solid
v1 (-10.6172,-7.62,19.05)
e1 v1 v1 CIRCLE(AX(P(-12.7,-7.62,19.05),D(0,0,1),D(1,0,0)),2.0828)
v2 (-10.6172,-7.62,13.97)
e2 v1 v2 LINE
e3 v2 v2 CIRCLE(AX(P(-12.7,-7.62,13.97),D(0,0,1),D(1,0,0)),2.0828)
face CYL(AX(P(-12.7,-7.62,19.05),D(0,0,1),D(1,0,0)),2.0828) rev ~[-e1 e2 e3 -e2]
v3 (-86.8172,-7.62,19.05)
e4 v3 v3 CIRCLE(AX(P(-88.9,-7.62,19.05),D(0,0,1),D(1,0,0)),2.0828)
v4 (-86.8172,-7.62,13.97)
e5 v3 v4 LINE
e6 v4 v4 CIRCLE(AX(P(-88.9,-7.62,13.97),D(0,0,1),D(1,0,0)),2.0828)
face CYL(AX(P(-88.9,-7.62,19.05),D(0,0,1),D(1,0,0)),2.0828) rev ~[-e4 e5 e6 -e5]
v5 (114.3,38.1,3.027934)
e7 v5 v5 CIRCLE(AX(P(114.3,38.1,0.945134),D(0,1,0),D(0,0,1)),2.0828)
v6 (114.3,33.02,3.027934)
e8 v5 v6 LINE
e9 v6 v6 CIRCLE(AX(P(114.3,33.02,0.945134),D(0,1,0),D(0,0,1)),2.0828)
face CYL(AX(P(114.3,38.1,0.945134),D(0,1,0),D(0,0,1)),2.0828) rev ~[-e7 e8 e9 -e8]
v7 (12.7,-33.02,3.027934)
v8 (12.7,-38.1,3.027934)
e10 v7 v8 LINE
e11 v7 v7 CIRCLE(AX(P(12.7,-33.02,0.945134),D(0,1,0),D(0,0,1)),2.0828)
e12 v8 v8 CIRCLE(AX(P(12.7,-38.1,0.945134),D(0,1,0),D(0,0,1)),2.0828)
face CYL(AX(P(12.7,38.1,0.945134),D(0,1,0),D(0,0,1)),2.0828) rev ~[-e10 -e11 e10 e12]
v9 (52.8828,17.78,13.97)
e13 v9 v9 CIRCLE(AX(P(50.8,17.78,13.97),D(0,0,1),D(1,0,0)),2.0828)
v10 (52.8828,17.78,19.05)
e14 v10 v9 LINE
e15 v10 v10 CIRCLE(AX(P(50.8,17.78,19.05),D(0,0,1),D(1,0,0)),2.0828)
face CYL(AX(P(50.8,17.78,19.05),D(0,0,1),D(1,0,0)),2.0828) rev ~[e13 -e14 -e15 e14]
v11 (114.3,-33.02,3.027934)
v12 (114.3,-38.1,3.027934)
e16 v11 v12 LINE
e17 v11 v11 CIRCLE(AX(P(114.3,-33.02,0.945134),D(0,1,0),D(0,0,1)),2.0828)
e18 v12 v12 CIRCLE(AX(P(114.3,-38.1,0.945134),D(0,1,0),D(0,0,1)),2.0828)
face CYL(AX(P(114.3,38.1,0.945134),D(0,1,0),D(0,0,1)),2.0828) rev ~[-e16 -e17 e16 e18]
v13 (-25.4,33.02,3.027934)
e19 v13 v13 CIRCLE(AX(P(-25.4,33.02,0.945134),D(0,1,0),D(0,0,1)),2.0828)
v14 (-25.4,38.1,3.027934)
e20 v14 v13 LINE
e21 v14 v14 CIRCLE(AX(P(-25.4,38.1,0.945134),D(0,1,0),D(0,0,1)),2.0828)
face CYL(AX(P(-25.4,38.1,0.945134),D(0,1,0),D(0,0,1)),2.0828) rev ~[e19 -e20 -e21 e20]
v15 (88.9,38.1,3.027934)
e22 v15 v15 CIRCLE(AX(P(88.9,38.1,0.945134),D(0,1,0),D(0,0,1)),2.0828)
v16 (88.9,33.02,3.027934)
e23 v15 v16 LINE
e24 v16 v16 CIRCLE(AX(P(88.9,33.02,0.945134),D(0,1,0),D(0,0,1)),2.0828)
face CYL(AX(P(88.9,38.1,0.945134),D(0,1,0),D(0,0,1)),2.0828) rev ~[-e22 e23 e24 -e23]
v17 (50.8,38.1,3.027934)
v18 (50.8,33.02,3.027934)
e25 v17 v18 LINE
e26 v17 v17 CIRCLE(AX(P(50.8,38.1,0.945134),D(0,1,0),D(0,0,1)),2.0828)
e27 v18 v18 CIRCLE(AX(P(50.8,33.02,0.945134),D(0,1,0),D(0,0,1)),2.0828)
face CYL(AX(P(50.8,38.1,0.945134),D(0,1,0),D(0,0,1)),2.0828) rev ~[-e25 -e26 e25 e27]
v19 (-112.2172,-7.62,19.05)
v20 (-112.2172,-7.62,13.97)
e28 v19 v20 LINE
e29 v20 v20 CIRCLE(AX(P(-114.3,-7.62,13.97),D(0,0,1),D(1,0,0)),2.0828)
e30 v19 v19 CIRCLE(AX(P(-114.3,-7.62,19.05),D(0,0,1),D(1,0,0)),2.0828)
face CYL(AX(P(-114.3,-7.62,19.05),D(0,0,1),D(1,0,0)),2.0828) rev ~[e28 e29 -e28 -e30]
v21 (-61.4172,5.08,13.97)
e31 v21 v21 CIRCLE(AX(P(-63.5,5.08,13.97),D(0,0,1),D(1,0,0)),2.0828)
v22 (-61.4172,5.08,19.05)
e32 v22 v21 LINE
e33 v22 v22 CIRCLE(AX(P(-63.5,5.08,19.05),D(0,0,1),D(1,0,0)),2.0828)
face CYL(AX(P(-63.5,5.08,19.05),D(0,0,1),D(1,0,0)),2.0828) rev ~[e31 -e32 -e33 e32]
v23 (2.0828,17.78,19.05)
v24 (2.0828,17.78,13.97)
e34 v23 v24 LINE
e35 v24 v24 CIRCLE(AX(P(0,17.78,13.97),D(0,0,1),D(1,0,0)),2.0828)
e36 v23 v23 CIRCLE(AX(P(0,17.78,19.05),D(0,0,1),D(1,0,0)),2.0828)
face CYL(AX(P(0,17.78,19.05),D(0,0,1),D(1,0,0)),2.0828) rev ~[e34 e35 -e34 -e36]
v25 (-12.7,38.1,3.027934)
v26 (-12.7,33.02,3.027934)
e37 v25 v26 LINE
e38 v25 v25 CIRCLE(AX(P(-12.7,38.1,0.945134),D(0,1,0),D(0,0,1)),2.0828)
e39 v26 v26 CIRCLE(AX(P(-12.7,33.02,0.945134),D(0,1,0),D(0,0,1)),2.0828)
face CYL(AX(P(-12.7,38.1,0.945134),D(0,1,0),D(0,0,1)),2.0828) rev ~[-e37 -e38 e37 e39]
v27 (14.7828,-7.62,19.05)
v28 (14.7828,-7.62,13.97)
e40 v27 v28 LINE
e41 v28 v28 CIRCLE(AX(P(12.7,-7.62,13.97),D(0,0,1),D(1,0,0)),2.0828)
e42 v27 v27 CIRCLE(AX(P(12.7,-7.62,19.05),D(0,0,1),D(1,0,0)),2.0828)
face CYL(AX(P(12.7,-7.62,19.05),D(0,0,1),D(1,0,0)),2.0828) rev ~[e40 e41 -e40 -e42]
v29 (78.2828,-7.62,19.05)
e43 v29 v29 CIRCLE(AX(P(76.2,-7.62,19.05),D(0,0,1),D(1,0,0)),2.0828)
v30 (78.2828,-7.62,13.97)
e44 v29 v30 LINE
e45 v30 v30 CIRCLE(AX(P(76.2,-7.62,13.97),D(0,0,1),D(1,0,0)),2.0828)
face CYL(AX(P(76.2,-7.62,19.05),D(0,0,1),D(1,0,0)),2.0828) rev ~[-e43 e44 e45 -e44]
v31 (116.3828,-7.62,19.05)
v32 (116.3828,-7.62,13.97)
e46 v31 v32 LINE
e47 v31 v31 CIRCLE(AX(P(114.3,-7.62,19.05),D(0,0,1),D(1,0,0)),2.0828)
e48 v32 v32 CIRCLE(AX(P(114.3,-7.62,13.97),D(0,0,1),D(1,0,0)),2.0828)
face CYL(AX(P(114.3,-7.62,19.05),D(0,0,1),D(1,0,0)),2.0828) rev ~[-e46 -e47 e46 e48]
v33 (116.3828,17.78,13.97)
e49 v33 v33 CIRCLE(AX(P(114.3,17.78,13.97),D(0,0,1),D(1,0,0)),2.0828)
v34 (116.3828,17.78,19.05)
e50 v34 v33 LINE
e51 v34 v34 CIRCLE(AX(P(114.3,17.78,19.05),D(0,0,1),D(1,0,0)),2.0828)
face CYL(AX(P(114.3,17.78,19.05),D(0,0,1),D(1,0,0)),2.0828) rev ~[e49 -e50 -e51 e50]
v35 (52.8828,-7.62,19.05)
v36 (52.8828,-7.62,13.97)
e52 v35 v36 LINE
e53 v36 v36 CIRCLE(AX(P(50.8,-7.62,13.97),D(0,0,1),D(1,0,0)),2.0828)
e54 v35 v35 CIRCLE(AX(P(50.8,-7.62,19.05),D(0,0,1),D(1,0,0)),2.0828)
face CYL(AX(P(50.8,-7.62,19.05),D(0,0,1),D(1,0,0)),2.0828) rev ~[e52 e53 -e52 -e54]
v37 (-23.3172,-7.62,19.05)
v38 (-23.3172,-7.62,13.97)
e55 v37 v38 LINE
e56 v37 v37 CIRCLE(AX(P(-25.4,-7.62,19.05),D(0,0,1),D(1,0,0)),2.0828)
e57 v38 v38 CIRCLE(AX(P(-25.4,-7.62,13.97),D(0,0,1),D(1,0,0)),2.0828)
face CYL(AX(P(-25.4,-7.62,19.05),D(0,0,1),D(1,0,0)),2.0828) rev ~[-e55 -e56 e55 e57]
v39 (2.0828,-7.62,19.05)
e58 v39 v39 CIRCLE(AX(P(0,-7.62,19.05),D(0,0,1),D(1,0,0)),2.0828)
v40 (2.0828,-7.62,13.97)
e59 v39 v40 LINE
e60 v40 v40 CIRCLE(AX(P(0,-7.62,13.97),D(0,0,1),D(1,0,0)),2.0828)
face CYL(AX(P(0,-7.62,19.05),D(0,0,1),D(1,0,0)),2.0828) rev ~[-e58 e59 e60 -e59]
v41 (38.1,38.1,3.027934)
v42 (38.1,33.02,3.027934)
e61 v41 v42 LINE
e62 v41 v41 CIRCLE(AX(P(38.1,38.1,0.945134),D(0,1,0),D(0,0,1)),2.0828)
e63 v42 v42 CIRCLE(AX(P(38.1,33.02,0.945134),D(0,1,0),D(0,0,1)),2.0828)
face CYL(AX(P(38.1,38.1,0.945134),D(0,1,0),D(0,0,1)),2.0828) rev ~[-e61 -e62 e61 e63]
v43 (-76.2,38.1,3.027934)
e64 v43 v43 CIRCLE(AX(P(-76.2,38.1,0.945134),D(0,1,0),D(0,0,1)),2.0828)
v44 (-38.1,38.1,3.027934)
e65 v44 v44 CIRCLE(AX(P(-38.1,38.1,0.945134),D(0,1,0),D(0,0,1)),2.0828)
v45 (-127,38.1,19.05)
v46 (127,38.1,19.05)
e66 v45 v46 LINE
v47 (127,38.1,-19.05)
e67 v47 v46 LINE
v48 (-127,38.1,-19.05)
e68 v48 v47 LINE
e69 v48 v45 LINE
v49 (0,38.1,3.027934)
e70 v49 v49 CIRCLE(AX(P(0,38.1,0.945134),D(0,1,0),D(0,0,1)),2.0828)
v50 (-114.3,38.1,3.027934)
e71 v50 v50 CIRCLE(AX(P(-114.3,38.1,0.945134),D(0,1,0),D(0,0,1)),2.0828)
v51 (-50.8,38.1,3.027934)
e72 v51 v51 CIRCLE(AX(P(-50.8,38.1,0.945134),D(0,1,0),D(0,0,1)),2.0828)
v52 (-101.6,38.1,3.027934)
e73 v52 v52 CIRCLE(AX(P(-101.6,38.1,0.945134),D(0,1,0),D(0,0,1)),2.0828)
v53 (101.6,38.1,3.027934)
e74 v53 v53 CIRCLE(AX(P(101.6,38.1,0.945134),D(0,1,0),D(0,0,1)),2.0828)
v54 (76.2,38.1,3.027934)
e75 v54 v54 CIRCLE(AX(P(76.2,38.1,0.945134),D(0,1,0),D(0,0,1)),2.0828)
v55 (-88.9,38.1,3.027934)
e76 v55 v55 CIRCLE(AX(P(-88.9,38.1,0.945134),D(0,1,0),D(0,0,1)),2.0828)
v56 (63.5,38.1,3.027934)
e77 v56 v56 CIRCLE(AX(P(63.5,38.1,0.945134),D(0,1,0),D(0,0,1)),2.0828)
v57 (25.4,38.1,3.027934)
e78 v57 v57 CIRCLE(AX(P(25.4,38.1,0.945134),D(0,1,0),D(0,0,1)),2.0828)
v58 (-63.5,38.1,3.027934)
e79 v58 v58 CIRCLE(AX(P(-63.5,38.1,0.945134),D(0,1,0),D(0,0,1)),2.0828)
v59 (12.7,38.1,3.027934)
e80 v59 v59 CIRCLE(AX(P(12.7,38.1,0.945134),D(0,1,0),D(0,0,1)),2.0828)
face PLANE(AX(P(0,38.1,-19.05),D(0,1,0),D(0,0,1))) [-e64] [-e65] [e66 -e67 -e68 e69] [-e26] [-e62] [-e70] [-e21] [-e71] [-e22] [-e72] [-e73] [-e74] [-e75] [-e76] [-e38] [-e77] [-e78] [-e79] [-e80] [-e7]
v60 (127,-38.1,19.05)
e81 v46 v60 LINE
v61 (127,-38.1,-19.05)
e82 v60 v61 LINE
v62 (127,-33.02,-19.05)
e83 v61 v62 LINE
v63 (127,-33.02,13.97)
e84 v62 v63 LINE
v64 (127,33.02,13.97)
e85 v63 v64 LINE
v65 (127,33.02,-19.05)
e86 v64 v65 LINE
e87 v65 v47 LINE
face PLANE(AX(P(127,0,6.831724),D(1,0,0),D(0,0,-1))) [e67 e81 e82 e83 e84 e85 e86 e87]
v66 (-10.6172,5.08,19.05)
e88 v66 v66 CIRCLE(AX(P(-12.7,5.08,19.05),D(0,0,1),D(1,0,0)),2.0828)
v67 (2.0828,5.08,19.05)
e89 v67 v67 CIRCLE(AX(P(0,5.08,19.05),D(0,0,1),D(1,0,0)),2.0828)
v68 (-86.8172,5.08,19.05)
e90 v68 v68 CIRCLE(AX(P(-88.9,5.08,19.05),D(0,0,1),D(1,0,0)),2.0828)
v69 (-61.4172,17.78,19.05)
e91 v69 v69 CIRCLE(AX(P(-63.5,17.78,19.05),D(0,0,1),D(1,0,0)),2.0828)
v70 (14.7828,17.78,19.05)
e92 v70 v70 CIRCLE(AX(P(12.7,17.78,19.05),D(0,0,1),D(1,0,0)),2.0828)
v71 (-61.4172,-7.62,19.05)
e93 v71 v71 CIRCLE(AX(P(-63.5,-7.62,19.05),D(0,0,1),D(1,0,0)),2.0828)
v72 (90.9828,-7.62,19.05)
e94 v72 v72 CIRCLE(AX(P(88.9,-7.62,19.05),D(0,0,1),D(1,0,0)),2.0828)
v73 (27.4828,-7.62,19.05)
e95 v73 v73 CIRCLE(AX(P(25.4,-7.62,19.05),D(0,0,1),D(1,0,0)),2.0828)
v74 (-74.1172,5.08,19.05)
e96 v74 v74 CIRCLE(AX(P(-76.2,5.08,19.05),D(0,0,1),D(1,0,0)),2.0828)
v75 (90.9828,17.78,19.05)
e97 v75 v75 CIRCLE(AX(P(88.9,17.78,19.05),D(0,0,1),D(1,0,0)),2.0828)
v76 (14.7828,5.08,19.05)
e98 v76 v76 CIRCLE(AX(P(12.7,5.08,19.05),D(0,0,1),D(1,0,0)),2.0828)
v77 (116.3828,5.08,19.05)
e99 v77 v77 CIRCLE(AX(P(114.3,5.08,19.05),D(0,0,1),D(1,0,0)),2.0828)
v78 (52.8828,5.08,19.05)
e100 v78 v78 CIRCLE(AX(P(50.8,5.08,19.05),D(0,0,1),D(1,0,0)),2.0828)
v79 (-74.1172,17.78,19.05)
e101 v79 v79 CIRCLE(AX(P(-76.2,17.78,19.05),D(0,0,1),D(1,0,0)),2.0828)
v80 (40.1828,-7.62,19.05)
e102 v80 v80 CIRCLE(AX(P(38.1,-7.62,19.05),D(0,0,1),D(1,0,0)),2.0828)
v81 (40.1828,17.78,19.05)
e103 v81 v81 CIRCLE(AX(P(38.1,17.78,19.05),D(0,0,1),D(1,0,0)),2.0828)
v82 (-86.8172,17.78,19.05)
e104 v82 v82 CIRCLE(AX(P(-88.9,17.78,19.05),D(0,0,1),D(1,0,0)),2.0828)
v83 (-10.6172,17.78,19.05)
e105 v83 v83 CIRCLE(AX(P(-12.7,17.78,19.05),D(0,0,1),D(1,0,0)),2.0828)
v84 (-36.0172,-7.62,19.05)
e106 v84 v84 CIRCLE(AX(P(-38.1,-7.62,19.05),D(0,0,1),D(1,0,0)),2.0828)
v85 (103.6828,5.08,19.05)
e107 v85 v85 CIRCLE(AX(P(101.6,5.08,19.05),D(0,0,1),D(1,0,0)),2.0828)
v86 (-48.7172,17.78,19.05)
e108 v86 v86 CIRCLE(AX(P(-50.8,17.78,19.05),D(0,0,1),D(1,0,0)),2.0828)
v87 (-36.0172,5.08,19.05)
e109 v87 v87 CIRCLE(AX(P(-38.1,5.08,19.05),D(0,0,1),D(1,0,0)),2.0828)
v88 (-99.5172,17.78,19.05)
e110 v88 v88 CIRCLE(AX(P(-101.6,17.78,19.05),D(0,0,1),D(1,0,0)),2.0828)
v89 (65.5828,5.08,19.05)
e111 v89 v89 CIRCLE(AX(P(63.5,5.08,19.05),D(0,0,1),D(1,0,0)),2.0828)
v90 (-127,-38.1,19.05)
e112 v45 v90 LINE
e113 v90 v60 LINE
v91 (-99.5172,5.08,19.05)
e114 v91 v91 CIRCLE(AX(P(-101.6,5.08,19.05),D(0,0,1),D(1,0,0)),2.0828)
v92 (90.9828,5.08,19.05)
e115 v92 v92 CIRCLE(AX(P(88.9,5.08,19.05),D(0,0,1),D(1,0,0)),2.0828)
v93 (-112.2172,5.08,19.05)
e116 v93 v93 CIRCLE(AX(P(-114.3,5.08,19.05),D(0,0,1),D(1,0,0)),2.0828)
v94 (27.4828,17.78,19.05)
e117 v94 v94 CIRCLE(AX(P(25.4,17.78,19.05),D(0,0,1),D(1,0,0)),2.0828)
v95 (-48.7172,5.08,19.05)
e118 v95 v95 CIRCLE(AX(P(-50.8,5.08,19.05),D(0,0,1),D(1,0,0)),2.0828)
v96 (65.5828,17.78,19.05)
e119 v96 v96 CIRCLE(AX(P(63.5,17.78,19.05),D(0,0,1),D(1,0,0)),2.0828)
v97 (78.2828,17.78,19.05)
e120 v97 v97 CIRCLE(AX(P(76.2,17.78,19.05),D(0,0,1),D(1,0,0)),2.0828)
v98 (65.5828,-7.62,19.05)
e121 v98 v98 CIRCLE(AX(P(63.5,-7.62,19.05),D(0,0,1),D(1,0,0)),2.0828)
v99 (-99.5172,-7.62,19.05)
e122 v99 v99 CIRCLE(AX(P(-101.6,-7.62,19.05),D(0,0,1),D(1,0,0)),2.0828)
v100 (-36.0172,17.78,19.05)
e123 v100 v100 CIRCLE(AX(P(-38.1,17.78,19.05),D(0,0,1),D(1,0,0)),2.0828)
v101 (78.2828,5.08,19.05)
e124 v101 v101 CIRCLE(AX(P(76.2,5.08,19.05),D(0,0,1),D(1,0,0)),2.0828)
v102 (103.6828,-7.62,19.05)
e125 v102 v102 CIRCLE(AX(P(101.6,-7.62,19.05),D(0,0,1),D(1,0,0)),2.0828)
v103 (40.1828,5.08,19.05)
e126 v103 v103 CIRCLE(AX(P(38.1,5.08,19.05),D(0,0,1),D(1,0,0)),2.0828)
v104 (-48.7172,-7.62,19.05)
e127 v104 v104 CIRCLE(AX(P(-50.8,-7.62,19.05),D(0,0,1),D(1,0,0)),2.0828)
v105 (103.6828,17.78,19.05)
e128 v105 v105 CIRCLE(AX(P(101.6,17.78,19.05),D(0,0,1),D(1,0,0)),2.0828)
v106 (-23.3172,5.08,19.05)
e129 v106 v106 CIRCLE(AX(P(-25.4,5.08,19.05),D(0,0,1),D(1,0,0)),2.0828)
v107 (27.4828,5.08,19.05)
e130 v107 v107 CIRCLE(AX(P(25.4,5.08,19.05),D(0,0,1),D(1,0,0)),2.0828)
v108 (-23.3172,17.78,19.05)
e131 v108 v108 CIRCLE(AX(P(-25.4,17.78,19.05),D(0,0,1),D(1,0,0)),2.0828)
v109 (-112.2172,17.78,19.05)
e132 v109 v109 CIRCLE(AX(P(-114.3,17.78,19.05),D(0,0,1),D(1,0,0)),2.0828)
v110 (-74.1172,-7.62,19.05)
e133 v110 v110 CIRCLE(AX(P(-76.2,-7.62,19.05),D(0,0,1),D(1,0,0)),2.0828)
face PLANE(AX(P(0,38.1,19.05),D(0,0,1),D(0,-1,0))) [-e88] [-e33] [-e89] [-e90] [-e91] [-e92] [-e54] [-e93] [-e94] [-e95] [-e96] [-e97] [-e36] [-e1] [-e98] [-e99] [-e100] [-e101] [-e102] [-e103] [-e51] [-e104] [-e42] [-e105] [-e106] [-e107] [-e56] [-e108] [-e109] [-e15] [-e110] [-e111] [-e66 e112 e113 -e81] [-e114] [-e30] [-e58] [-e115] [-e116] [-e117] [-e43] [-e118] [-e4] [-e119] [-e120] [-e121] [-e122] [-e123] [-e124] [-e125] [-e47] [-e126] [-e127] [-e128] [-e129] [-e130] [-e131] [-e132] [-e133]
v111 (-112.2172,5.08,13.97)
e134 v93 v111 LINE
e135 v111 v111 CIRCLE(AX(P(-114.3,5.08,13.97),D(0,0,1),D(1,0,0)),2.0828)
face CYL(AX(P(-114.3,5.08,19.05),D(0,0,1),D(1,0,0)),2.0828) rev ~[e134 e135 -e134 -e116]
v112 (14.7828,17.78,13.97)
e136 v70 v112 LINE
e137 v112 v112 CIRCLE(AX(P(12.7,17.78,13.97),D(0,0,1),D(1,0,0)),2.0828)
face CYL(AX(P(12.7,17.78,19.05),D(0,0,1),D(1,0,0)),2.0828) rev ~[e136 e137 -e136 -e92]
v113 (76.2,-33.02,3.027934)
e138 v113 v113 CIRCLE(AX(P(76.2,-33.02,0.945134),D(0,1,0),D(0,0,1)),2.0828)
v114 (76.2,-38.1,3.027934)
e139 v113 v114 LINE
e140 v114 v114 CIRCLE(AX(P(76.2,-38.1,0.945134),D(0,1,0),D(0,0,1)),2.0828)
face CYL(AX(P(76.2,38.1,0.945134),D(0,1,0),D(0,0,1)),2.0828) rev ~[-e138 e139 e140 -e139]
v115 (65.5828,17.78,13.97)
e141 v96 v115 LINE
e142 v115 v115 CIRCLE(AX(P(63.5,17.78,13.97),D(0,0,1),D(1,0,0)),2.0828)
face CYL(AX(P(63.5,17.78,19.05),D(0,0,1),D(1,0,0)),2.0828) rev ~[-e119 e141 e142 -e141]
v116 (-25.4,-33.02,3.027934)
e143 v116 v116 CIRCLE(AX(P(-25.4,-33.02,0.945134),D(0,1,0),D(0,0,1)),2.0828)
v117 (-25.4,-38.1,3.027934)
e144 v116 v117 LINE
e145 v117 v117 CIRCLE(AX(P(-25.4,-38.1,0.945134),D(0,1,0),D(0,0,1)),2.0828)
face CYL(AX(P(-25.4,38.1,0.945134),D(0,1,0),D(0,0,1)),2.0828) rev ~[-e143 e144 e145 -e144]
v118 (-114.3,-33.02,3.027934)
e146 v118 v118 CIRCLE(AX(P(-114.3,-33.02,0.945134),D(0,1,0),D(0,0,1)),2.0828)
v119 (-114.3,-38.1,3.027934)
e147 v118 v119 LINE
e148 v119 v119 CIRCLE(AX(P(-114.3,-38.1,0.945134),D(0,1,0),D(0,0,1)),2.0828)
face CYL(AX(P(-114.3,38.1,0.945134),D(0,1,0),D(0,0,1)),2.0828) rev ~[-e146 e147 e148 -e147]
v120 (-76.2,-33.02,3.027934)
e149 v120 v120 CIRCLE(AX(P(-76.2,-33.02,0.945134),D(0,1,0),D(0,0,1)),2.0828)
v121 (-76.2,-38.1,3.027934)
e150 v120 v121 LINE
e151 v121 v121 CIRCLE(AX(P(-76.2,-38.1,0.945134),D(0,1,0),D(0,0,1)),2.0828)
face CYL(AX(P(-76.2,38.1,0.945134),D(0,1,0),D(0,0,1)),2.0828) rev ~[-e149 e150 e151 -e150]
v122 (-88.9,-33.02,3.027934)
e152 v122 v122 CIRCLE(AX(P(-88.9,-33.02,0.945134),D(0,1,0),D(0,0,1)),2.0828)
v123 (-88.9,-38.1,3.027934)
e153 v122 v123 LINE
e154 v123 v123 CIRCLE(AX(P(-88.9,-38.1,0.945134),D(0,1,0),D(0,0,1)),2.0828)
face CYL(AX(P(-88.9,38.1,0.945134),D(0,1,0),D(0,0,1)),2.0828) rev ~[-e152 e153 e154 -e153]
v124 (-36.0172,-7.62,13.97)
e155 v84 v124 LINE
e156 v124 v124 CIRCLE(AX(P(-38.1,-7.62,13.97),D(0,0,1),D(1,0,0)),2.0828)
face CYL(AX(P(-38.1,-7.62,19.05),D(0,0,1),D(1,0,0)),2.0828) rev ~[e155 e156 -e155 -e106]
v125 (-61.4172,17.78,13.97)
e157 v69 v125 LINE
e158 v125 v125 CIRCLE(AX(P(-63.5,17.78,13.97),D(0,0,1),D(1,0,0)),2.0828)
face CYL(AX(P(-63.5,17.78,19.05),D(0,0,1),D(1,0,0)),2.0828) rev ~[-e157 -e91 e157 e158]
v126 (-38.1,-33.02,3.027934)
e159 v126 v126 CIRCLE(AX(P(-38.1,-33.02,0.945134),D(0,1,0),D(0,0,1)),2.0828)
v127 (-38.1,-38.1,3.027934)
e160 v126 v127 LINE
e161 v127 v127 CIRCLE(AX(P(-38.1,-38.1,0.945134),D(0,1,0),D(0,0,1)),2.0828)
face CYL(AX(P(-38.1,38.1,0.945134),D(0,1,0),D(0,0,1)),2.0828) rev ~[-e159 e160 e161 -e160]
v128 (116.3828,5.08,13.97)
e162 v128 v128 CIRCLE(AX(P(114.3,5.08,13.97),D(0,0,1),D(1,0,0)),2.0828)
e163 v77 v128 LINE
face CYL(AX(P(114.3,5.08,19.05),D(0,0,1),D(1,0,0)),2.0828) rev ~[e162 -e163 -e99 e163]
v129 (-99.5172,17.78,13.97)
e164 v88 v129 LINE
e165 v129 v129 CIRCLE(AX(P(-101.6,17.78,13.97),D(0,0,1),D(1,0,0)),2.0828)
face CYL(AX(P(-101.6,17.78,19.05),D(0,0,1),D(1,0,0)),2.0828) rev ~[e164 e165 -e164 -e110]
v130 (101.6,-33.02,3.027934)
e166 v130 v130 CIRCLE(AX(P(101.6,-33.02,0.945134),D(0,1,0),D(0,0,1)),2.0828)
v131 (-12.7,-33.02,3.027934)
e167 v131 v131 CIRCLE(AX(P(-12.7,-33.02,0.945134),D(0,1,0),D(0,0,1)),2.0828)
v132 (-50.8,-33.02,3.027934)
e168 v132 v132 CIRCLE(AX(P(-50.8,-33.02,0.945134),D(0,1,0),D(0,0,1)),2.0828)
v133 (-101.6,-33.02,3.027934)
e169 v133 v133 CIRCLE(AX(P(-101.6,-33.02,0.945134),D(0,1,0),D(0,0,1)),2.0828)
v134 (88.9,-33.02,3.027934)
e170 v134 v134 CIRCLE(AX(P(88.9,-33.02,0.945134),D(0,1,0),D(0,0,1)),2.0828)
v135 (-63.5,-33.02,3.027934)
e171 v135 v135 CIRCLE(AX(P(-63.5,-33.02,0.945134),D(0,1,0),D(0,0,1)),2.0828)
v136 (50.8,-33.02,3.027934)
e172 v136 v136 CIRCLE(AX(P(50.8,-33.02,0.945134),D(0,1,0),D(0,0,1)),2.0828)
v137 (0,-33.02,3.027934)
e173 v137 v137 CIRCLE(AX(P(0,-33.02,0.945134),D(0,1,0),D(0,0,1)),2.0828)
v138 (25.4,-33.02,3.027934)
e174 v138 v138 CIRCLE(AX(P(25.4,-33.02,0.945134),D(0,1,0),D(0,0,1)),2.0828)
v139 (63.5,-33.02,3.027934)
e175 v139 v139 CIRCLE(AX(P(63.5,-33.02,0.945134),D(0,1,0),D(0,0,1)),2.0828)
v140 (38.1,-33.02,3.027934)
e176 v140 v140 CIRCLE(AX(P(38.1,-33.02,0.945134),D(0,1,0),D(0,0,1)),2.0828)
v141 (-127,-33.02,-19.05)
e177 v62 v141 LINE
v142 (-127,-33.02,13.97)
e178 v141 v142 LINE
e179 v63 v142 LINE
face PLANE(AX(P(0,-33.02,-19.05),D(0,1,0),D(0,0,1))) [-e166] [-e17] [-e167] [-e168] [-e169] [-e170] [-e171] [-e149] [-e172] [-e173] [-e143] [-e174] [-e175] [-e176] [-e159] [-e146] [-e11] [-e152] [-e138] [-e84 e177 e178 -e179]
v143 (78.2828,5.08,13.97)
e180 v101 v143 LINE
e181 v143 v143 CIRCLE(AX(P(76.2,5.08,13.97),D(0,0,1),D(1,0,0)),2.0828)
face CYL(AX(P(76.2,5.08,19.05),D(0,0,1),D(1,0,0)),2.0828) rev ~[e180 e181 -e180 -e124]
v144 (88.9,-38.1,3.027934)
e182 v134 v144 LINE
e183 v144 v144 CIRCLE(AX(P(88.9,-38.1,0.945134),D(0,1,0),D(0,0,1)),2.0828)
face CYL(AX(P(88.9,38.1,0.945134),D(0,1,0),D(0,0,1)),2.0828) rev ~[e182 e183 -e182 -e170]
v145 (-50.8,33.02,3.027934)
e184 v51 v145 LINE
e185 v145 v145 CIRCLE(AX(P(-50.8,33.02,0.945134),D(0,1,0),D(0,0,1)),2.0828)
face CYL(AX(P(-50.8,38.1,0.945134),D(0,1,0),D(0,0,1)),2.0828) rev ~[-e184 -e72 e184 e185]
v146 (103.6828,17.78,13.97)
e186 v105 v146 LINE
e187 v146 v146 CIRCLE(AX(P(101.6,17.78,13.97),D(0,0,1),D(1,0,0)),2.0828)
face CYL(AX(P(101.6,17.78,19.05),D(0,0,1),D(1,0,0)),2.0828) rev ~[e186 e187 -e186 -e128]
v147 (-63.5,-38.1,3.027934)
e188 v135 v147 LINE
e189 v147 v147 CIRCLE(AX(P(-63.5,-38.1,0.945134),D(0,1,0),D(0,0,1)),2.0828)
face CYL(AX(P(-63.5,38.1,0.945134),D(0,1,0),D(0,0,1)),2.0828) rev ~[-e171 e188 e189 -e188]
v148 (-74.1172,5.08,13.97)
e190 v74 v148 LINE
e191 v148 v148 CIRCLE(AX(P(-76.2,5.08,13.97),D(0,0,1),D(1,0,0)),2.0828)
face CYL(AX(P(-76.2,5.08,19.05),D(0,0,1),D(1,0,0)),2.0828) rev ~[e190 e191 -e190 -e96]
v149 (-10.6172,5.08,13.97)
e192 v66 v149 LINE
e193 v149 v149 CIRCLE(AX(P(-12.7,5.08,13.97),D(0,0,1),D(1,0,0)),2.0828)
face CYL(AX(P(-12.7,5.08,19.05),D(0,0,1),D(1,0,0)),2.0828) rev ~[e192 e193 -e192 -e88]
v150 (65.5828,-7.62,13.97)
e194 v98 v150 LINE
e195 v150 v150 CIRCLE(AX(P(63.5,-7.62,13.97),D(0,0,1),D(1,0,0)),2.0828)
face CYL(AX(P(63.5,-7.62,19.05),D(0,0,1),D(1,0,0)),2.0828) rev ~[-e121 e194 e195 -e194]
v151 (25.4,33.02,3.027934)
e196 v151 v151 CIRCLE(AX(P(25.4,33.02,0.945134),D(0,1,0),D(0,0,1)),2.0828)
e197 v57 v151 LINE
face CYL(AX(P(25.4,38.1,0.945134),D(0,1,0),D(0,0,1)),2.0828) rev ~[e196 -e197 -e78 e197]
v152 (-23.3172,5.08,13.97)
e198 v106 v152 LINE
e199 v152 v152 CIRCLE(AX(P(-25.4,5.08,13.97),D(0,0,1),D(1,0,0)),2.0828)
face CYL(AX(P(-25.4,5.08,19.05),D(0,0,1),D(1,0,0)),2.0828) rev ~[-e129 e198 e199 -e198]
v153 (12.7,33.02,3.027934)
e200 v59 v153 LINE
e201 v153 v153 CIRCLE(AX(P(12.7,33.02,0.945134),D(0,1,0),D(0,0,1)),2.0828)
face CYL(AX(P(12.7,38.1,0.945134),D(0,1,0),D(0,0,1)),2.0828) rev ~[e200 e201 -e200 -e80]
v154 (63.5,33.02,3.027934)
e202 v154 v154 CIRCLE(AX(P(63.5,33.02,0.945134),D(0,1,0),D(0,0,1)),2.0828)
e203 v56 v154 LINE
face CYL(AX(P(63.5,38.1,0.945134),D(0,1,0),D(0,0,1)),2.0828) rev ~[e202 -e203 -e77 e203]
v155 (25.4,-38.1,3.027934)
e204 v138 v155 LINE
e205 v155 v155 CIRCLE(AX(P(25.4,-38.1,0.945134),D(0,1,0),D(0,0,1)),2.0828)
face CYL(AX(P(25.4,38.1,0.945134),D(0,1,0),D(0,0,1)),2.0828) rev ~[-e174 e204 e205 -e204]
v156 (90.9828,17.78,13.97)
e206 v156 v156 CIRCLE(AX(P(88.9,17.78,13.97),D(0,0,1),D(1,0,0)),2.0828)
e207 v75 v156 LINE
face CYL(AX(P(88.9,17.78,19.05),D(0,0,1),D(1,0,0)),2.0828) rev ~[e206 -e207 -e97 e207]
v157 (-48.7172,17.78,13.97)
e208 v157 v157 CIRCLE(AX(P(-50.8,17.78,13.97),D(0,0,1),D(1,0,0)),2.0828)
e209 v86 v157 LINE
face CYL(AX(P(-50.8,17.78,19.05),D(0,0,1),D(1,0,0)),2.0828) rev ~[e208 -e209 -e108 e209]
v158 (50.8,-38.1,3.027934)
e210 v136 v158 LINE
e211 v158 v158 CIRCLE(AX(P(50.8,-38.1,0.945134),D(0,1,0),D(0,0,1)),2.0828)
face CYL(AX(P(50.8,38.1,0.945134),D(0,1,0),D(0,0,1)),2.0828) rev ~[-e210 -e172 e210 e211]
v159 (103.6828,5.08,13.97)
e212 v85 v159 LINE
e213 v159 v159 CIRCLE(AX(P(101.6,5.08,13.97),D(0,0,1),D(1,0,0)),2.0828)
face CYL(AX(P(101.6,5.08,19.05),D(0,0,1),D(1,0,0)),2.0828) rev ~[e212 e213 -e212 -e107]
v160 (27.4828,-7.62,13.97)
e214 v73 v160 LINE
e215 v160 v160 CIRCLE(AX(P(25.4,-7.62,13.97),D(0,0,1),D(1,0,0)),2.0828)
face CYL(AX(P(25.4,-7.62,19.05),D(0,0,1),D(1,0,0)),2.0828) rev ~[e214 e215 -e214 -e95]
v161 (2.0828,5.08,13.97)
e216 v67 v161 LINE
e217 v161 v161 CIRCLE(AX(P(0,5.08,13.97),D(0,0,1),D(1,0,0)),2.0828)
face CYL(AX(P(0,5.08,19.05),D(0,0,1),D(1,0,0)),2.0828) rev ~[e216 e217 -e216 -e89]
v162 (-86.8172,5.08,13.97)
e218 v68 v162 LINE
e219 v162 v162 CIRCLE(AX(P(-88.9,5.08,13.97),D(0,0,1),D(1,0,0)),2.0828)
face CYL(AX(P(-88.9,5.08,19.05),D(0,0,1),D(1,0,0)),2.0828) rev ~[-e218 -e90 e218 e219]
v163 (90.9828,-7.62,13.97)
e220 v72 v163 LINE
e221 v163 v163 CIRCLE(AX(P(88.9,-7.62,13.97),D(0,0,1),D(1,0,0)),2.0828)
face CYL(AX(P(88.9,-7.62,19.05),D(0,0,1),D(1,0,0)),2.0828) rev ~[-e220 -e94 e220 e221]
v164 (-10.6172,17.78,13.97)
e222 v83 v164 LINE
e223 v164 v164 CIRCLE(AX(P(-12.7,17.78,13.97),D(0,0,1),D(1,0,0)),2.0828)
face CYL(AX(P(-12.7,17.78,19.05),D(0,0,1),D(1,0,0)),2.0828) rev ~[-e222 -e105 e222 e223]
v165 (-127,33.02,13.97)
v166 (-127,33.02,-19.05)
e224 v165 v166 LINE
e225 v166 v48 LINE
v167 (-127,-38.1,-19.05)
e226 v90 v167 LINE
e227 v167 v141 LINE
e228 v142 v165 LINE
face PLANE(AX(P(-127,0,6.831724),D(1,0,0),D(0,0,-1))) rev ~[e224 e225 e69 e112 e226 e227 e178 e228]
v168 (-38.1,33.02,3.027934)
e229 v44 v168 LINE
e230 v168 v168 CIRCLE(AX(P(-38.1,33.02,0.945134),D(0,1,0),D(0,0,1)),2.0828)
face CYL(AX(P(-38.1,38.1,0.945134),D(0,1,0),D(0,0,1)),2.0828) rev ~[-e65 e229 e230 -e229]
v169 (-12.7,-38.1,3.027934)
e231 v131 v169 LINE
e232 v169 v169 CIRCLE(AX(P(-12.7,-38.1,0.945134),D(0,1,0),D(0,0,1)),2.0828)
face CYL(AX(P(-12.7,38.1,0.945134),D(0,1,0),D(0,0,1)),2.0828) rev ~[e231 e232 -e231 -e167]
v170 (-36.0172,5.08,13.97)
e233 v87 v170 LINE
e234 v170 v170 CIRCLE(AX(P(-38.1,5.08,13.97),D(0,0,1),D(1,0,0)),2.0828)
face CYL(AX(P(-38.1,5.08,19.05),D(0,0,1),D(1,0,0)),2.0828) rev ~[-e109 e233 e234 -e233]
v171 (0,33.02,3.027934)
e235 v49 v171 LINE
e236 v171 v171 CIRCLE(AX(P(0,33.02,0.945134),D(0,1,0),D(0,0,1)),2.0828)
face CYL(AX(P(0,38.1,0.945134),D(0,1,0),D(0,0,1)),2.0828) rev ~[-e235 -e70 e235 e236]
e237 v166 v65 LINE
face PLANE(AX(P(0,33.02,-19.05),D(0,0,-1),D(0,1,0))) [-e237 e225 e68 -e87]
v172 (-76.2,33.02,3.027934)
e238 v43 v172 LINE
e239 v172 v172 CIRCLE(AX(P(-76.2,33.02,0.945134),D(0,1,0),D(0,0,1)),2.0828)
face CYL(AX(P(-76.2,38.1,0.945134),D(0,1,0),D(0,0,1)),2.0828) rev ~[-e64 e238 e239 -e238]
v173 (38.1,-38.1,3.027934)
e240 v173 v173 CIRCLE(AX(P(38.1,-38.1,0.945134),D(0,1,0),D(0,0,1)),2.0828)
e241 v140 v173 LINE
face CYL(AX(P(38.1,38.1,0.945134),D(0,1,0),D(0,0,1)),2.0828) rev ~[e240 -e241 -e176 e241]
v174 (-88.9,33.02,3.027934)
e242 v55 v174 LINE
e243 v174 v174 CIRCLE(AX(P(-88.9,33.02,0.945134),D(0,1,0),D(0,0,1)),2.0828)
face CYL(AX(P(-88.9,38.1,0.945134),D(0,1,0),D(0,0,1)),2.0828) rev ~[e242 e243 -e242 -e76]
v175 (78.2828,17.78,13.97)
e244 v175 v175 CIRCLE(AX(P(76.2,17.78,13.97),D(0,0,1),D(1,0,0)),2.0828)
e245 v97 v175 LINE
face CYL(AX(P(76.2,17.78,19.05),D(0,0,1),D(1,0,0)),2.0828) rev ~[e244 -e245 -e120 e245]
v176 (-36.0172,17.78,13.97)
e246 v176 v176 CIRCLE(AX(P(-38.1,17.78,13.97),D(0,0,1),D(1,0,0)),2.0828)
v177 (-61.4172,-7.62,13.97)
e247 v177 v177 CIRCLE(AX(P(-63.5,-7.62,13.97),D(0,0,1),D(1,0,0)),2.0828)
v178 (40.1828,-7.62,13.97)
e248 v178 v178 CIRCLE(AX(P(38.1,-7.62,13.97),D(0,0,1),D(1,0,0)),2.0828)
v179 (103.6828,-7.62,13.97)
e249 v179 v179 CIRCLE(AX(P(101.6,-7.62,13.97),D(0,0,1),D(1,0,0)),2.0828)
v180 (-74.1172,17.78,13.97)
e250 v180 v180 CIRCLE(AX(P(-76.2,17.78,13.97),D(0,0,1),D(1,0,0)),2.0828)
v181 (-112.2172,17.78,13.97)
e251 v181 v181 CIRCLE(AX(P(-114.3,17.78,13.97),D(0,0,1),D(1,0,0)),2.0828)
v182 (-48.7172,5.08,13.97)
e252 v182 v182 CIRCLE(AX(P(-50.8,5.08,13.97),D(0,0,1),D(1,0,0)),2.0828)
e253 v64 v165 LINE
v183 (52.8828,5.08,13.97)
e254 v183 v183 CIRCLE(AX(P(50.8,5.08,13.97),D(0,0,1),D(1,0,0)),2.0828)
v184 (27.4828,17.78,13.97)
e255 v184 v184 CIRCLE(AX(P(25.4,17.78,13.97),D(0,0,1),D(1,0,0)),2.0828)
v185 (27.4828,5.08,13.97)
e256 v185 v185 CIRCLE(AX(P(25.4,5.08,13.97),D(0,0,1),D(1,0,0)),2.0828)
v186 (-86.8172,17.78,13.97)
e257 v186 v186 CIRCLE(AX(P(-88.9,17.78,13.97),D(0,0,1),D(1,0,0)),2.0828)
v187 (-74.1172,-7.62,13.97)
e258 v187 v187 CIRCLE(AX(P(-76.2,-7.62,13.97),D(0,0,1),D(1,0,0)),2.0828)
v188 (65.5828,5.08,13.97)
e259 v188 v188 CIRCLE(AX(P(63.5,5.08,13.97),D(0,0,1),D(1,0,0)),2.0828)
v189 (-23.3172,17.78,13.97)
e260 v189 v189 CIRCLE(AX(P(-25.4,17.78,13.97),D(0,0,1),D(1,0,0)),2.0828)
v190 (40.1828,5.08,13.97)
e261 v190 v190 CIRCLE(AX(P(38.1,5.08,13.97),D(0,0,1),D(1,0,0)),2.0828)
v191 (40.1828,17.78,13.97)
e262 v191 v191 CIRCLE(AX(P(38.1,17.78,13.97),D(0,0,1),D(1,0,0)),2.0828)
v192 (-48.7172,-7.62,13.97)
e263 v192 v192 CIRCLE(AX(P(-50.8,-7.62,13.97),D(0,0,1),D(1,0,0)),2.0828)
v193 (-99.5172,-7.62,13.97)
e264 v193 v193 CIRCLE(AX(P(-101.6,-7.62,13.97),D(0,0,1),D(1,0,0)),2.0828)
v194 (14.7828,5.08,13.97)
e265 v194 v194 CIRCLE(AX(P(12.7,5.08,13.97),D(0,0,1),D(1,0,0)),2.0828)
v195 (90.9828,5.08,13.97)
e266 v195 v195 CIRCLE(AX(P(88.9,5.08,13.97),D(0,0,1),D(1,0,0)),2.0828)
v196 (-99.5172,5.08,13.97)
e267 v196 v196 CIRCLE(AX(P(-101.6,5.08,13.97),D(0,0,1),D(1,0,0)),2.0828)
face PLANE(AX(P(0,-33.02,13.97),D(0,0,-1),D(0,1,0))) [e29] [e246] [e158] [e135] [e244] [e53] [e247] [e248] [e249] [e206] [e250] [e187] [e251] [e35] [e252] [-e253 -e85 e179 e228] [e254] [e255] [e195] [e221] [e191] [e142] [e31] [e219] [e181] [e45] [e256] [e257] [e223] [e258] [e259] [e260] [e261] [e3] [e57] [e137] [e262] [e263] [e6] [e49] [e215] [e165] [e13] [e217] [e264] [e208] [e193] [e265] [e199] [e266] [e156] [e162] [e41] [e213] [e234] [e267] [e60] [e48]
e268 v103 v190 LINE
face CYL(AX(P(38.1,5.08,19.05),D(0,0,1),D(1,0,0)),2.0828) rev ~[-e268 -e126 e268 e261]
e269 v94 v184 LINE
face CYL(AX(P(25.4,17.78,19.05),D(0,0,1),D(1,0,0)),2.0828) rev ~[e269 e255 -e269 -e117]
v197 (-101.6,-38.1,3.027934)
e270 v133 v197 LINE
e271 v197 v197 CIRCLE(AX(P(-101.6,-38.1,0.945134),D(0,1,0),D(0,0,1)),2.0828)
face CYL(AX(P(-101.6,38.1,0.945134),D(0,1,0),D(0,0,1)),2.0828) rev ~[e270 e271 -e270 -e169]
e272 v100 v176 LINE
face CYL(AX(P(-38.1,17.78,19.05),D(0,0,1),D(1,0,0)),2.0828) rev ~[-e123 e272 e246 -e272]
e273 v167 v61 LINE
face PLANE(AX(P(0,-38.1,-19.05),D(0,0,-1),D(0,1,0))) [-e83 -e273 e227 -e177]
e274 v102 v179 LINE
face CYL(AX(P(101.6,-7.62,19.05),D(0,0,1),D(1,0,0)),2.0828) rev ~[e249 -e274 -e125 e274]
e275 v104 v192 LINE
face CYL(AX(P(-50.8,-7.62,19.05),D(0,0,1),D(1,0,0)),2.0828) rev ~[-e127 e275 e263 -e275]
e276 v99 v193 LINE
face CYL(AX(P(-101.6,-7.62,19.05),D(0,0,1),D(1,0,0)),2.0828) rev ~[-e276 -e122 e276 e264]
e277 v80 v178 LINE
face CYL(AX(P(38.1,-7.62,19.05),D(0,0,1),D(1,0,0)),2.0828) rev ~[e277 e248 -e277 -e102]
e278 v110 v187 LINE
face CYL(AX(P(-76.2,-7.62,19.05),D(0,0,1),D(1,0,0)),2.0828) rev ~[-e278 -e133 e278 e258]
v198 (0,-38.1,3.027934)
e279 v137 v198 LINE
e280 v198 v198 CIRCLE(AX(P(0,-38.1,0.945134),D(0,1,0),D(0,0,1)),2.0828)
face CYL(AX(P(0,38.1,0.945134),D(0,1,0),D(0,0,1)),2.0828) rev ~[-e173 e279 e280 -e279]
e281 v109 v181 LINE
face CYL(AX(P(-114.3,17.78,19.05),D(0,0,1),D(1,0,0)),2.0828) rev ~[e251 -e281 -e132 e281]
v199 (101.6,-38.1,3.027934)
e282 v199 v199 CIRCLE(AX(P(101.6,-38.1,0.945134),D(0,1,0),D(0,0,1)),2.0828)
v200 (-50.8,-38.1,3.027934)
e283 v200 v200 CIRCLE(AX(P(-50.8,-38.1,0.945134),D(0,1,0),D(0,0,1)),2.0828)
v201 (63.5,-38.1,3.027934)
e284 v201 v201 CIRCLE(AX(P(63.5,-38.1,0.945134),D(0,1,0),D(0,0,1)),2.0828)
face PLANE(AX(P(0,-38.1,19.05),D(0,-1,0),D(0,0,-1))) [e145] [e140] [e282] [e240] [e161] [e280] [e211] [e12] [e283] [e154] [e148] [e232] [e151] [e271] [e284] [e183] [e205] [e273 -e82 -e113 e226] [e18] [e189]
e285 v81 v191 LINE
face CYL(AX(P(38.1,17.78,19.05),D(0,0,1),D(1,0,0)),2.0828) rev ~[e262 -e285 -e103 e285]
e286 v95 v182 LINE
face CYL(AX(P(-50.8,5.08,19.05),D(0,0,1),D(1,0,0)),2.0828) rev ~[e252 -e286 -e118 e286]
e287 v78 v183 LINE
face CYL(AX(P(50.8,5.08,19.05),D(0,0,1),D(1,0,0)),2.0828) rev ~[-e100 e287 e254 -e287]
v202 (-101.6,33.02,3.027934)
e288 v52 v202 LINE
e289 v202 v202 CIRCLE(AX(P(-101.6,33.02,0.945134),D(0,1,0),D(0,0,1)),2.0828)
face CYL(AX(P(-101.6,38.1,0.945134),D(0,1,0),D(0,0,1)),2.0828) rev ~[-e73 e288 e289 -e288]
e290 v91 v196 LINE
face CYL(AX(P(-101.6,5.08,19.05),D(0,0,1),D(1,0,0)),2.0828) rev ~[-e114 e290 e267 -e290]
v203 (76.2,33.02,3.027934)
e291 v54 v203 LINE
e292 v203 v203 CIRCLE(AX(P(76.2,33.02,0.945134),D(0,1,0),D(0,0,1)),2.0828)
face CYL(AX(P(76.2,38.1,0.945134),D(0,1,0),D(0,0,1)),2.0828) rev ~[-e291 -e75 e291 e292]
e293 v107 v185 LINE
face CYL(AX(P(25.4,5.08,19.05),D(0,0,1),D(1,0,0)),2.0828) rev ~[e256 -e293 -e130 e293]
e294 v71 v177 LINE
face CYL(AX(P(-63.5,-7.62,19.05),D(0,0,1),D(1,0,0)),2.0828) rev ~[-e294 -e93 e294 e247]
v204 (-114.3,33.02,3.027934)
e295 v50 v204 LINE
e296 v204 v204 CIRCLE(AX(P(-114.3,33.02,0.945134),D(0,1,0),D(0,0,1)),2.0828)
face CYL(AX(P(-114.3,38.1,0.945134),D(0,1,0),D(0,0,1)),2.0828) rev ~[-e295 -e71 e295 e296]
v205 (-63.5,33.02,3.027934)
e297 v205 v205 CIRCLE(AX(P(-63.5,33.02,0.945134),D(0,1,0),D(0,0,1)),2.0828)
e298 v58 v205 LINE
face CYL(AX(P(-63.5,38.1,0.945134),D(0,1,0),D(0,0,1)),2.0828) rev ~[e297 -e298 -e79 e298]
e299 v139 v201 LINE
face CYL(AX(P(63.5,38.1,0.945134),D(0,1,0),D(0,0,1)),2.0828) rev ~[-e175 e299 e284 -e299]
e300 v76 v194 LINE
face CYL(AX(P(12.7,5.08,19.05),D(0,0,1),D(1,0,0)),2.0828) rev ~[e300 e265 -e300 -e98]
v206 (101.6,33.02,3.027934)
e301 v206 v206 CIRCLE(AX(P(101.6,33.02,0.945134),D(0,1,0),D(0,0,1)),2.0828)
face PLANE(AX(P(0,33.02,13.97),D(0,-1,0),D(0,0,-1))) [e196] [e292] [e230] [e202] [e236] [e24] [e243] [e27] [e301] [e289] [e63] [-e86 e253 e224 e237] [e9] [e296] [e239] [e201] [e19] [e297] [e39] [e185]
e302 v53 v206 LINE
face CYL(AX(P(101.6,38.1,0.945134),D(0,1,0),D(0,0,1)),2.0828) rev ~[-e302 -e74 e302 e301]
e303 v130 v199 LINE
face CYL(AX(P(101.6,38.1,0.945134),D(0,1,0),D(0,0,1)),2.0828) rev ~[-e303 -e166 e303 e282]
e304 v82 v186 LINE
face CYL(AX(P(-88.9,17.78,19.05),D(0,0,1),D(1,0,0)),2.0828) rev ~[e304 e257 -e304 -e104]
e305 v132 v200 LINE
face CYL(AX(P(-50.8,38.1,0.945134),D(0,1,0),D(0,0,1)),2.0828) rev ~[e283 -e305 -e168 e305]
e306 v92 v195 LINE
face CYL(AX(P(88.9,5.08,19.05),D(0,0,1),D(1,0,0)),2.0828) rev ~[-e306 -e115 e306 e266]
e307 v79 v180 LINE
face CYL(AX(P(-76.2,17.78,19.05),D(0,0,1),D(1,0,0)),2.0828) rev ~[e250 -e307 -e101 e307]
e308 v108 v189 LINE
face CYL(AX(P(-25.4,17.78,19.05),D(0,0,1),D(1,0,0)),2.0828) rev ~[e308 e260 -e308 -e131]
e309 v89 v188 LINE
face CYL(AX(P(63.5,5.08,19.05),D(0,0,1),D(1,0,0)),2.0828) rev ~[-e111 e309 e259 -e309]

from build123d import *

# Parameters (mm, degrees)
BOSS_EXTRUDE1_DEPTH = 127
SKETCH2_R           = 2.0828
CUT_EXTRUDE1_DEPTH  = 150.326295407
SKETCH3_R           = 2.0828
CUT_EXTRUDE2_DEPTH  = 5.08


with BuildPart() as part:
    # Sketch1 → Boss-Extrude1 (new, symmetric)
    with BuildSketch(Plane(origin=(0, 0, 0), x_dir=(0, 0, -1), z_dir=(1, 0, 0))):
        Polygon((-13.97, 33.02), (19.05, 33.02), (19.05, 38.1), (-19.05, 38.1), (-19.05, -38.1), (19.05, -38.1), (19.05, -33.02), (-13.97, -33.02), align=None)
    extrude(amount=BOSS_EXTRUDE1_DEPTH, both=True)

    # Sketch2 → Cut-Extrude1 (cut, through all)
    with BuildSketch(Plane(origin=(0, 38.1, 0), x_dir=(1, 0, 0), z_dir=(0, 1, 0))):
        with Locations(Location((-114.3, -0.945134, 0), (0, 0, 270))):
            Circle(SKETCH2_R)
        with Locations(Location((-101.6, -0.945134, 0), (0, 0, 270))):
            Circle(SKETCH2_R)
        with Locations(Location((-88.9, -0.945134, 0), (0, 0, 270))):
            Circle(SKETCH2_R)
        with Locations(Location((-76.2, -0.945134, 0), (0, 0, 270))):
            Circle(SKETCH2_R)
        with Locations(Location((-63.5, -0.945134, 0), (0, 0, 270))):
            Circle(SKETCH2_R)
        with Locations(Location((-50.8, -0.945134, 0), (0, 0, 270))):
            Circle(SKETCH2_R)
        with Locations(Location((-38.1, -0.945134, 0), (0, 0, 270))):
            Circle(SKETCH2_R)
        with Locations(Location((-25.4, -0.945134, 0), (0, 0, 270))):
            Circle(SKETCH2_R)
        with Locations(Location((-12.7, -0.945134, 0), (0, 0, 270))):
            Circle(SKETCH2_R)
        with Locations(Location((0, -0.945134, 0), (0, 0, 270))):
            Circle(SKETCH2_R)
        with Locations(Location((12.7, -0.945134, 0), (0, 0, 270))):
            Circle(SKETCH2_R)
        with Locations(Location((25.4, -0.945134, 0), (0, 0, 270))):
            Circle(SKETCH2_R)
        with Locations(Location((38.1, -0.945134, 0), (0, 0, 270))):
            Circle(SKETCH2_R)
        with Locations(Location((50.8, -0.945134, 0), (0, 0, 270))):
            Circle(SKETCH2_R)
        with Locations(Location((63.5, -0.945134, 0), (0, 0, 270))):
            Circle(SKETCH2_R)
        with Locations(Location((76.2, -0.945134, 0), (0, 0, 270))):
            Circle(SKETCH2_R)
        with Locations(Location((88.9, -0.945134, 0), (0, 0, 270))):
            Circle(SKETCH2_R)
        with Locations(Location((101.6, -0.945134, 0), (0, 0, 270))):
            Circle(SKETCH2_R)
        with Locations(Location((114.3, -0.945134, 0), (0, 0, 270))):
            Circle(SKETCH2_R)
    extrude(amount=-CUT_EXTRUDE1_DEPTH, mode=Mode.SUBTRACT)

    # Sketch3 → Cut-Extrude2 (cut)
    with BuildSketch(Plane.XY.offset(19.05)):
        with Locations((-114.3, 17.78)):
            Circle(SKETCH3_R)
        with Locations((-101.6, 17.78)):
            Circle(SKETCH3_R)
        with Locations((-88.9, 17.78)):
            Circle(SKETCH3_R)
        with Locations((-76.2, 17.78)):
            Circle(SKETCH3_R)
        with Locations((-63.5, 17.78)):
            Circle(SKETCH3_R)
        with Locations((-50.8, 17.78)):
            Circle(SKETCH3_R)
        with Locations((-38.1, 17.78)):
            Circle(SKETCH3_R)
        with Locations((-25.4, 17.78)):
            Circle(SKETCH3_R)
        with Locations((-12.7, 17.78)):
            Circle(SKETCH3_R)
        with Locations((0, 17.78)):
            Circle(SKETCH3_R)
        with Locations((12.7, 17.78)):
            Circle(SKETCH3_R)
        with Locations((25.4, 17.78)):
            Circle(SKETCH3_R)
        with Locations((38.1, 17.78)):
            Circle(SKETCH3_R)
        with Locations((50.8, 17.78)):
            Circle(SKETCH3_R)
        with Locations((63.5, 17.78)):
            Circle(SKETCH3_R)
        with Locations((76.2, 17.78)):
            Circle(SKETCH3_R)
        with Locations((88.9, 17.78)):
            Circle(SKETCH3_R)
        with Locations((101.6, 17.78)):
            Circle(SKETCH3_R)
        with Locations((114.3, 17.78)):
            Circle(SKETCH3_R)
        with Locations((-101.6, 5.08)):
            Circle(SKETCH3_R)
        with Locations((-88.9, 5.08)):
            Circle(SKETCH3_R)
        with Locations((-76.2, 5.08)):
            Circle(SKETCH3_R)
        with Locations((-63.5, 5.08)):
            Circle(SKETCH3_R)
        with Locations((-50.8, 5.08)):
            Circle(SKETCH3_R)
        with Locations((-38.1, 5.08)):
            Circle(SKETCH3_R)
        with Locations((-25.4, 5.08)):
            Circle(SKETCH3_R)
        with Locations((-12.7, 5.08)):
            Circle(SKETCH3_R)
        with Locations((0, 5.08)):
            Circle(SKETCH3_R)
        with Locations((12.7, 5.08)):
            Circle(SKETCH3_R)
        with Locations((25.4, 5.08)):
            Circle(SKETCH3_R)
        with Locations((38.1, 5.08)):
            Circle(SKETCH3_R)
        with Locations((50.8, 5.08)):
            Circle(SKETCH3_R)
        with Locations((63.5, 5.08)):
            Circle(SKETCH3_R)
        with Locations((76.2, 5.08)):
            Circle(SKETCH3_R)
        with Locations((88.9, 5.08)):
            Circle(SKETCH3_R)
        with Locations((101.6, 5.08)):
            Circle(SKETCH3_R)
        with Locations((114.3, 5.08)):
            Circle(SKETCH3_R)
        with Locations((-101.6, -7.62)):
            Circle(SKETCH3_R)
        with Locations((-88.9, -7.62)):
            Circle(SKETCH3_R)
        with Locations((-76.2, -7.62)):
            Circle(SKETCH3_R)
        with Locations((-63.5, -7.62)):
            Circle(SKETCH3_R)
        with Locations((-50.8, -7.62)):
            Circle(SKETCH3_R)
        with Locations((-38.1, -7.62)):
            Circle(SKETCH3_R)
        with Locations((-25.4, -7.62)):
            Circle(SKETCH3_R)
        with Locations((-12.7, -7.62)):
            Circle(SKETCH3_R)
        with Locations((0, -7.62)):
            Circle(SKETCH3_R)
        with Locations((12.7, -7.62)):
            Circle(SKETCH3_R)
        with Locations((25.4, -7.62)):
            Circle(SKETCH3_R)
        with Locations((38.1, -7.62)):
            Circle(SKETCH3_R)
        with Locations((50.8, -7.62)):
            Circle(SKETCH3_R)
        with Locations((63.5, -7.62)):
            Circle(SKETCH3_R)
        with Locations((76.2, -7.62)):
            Circle(SKETCH3_R)
        with Locations((88.9, -7.62)):
            Circle(SKETCH3_R)
        with Locations((101.6, -7.62)):
            Circle(SKETCH3_R)
        with Locations((114.3, -7.62)):
            Circle(SKETCH3_R)
        with Locations((-114.3, 5.08)):
            Circle(SKETCH3_R)
        with Locations((-114.3, -7.62)):
            Circle(SKETCH3_R)
    extrude(amount=-CUT_EXTRUDE2_DEPTH, mode=Mode.SUBTRACT)


solid = part.part
